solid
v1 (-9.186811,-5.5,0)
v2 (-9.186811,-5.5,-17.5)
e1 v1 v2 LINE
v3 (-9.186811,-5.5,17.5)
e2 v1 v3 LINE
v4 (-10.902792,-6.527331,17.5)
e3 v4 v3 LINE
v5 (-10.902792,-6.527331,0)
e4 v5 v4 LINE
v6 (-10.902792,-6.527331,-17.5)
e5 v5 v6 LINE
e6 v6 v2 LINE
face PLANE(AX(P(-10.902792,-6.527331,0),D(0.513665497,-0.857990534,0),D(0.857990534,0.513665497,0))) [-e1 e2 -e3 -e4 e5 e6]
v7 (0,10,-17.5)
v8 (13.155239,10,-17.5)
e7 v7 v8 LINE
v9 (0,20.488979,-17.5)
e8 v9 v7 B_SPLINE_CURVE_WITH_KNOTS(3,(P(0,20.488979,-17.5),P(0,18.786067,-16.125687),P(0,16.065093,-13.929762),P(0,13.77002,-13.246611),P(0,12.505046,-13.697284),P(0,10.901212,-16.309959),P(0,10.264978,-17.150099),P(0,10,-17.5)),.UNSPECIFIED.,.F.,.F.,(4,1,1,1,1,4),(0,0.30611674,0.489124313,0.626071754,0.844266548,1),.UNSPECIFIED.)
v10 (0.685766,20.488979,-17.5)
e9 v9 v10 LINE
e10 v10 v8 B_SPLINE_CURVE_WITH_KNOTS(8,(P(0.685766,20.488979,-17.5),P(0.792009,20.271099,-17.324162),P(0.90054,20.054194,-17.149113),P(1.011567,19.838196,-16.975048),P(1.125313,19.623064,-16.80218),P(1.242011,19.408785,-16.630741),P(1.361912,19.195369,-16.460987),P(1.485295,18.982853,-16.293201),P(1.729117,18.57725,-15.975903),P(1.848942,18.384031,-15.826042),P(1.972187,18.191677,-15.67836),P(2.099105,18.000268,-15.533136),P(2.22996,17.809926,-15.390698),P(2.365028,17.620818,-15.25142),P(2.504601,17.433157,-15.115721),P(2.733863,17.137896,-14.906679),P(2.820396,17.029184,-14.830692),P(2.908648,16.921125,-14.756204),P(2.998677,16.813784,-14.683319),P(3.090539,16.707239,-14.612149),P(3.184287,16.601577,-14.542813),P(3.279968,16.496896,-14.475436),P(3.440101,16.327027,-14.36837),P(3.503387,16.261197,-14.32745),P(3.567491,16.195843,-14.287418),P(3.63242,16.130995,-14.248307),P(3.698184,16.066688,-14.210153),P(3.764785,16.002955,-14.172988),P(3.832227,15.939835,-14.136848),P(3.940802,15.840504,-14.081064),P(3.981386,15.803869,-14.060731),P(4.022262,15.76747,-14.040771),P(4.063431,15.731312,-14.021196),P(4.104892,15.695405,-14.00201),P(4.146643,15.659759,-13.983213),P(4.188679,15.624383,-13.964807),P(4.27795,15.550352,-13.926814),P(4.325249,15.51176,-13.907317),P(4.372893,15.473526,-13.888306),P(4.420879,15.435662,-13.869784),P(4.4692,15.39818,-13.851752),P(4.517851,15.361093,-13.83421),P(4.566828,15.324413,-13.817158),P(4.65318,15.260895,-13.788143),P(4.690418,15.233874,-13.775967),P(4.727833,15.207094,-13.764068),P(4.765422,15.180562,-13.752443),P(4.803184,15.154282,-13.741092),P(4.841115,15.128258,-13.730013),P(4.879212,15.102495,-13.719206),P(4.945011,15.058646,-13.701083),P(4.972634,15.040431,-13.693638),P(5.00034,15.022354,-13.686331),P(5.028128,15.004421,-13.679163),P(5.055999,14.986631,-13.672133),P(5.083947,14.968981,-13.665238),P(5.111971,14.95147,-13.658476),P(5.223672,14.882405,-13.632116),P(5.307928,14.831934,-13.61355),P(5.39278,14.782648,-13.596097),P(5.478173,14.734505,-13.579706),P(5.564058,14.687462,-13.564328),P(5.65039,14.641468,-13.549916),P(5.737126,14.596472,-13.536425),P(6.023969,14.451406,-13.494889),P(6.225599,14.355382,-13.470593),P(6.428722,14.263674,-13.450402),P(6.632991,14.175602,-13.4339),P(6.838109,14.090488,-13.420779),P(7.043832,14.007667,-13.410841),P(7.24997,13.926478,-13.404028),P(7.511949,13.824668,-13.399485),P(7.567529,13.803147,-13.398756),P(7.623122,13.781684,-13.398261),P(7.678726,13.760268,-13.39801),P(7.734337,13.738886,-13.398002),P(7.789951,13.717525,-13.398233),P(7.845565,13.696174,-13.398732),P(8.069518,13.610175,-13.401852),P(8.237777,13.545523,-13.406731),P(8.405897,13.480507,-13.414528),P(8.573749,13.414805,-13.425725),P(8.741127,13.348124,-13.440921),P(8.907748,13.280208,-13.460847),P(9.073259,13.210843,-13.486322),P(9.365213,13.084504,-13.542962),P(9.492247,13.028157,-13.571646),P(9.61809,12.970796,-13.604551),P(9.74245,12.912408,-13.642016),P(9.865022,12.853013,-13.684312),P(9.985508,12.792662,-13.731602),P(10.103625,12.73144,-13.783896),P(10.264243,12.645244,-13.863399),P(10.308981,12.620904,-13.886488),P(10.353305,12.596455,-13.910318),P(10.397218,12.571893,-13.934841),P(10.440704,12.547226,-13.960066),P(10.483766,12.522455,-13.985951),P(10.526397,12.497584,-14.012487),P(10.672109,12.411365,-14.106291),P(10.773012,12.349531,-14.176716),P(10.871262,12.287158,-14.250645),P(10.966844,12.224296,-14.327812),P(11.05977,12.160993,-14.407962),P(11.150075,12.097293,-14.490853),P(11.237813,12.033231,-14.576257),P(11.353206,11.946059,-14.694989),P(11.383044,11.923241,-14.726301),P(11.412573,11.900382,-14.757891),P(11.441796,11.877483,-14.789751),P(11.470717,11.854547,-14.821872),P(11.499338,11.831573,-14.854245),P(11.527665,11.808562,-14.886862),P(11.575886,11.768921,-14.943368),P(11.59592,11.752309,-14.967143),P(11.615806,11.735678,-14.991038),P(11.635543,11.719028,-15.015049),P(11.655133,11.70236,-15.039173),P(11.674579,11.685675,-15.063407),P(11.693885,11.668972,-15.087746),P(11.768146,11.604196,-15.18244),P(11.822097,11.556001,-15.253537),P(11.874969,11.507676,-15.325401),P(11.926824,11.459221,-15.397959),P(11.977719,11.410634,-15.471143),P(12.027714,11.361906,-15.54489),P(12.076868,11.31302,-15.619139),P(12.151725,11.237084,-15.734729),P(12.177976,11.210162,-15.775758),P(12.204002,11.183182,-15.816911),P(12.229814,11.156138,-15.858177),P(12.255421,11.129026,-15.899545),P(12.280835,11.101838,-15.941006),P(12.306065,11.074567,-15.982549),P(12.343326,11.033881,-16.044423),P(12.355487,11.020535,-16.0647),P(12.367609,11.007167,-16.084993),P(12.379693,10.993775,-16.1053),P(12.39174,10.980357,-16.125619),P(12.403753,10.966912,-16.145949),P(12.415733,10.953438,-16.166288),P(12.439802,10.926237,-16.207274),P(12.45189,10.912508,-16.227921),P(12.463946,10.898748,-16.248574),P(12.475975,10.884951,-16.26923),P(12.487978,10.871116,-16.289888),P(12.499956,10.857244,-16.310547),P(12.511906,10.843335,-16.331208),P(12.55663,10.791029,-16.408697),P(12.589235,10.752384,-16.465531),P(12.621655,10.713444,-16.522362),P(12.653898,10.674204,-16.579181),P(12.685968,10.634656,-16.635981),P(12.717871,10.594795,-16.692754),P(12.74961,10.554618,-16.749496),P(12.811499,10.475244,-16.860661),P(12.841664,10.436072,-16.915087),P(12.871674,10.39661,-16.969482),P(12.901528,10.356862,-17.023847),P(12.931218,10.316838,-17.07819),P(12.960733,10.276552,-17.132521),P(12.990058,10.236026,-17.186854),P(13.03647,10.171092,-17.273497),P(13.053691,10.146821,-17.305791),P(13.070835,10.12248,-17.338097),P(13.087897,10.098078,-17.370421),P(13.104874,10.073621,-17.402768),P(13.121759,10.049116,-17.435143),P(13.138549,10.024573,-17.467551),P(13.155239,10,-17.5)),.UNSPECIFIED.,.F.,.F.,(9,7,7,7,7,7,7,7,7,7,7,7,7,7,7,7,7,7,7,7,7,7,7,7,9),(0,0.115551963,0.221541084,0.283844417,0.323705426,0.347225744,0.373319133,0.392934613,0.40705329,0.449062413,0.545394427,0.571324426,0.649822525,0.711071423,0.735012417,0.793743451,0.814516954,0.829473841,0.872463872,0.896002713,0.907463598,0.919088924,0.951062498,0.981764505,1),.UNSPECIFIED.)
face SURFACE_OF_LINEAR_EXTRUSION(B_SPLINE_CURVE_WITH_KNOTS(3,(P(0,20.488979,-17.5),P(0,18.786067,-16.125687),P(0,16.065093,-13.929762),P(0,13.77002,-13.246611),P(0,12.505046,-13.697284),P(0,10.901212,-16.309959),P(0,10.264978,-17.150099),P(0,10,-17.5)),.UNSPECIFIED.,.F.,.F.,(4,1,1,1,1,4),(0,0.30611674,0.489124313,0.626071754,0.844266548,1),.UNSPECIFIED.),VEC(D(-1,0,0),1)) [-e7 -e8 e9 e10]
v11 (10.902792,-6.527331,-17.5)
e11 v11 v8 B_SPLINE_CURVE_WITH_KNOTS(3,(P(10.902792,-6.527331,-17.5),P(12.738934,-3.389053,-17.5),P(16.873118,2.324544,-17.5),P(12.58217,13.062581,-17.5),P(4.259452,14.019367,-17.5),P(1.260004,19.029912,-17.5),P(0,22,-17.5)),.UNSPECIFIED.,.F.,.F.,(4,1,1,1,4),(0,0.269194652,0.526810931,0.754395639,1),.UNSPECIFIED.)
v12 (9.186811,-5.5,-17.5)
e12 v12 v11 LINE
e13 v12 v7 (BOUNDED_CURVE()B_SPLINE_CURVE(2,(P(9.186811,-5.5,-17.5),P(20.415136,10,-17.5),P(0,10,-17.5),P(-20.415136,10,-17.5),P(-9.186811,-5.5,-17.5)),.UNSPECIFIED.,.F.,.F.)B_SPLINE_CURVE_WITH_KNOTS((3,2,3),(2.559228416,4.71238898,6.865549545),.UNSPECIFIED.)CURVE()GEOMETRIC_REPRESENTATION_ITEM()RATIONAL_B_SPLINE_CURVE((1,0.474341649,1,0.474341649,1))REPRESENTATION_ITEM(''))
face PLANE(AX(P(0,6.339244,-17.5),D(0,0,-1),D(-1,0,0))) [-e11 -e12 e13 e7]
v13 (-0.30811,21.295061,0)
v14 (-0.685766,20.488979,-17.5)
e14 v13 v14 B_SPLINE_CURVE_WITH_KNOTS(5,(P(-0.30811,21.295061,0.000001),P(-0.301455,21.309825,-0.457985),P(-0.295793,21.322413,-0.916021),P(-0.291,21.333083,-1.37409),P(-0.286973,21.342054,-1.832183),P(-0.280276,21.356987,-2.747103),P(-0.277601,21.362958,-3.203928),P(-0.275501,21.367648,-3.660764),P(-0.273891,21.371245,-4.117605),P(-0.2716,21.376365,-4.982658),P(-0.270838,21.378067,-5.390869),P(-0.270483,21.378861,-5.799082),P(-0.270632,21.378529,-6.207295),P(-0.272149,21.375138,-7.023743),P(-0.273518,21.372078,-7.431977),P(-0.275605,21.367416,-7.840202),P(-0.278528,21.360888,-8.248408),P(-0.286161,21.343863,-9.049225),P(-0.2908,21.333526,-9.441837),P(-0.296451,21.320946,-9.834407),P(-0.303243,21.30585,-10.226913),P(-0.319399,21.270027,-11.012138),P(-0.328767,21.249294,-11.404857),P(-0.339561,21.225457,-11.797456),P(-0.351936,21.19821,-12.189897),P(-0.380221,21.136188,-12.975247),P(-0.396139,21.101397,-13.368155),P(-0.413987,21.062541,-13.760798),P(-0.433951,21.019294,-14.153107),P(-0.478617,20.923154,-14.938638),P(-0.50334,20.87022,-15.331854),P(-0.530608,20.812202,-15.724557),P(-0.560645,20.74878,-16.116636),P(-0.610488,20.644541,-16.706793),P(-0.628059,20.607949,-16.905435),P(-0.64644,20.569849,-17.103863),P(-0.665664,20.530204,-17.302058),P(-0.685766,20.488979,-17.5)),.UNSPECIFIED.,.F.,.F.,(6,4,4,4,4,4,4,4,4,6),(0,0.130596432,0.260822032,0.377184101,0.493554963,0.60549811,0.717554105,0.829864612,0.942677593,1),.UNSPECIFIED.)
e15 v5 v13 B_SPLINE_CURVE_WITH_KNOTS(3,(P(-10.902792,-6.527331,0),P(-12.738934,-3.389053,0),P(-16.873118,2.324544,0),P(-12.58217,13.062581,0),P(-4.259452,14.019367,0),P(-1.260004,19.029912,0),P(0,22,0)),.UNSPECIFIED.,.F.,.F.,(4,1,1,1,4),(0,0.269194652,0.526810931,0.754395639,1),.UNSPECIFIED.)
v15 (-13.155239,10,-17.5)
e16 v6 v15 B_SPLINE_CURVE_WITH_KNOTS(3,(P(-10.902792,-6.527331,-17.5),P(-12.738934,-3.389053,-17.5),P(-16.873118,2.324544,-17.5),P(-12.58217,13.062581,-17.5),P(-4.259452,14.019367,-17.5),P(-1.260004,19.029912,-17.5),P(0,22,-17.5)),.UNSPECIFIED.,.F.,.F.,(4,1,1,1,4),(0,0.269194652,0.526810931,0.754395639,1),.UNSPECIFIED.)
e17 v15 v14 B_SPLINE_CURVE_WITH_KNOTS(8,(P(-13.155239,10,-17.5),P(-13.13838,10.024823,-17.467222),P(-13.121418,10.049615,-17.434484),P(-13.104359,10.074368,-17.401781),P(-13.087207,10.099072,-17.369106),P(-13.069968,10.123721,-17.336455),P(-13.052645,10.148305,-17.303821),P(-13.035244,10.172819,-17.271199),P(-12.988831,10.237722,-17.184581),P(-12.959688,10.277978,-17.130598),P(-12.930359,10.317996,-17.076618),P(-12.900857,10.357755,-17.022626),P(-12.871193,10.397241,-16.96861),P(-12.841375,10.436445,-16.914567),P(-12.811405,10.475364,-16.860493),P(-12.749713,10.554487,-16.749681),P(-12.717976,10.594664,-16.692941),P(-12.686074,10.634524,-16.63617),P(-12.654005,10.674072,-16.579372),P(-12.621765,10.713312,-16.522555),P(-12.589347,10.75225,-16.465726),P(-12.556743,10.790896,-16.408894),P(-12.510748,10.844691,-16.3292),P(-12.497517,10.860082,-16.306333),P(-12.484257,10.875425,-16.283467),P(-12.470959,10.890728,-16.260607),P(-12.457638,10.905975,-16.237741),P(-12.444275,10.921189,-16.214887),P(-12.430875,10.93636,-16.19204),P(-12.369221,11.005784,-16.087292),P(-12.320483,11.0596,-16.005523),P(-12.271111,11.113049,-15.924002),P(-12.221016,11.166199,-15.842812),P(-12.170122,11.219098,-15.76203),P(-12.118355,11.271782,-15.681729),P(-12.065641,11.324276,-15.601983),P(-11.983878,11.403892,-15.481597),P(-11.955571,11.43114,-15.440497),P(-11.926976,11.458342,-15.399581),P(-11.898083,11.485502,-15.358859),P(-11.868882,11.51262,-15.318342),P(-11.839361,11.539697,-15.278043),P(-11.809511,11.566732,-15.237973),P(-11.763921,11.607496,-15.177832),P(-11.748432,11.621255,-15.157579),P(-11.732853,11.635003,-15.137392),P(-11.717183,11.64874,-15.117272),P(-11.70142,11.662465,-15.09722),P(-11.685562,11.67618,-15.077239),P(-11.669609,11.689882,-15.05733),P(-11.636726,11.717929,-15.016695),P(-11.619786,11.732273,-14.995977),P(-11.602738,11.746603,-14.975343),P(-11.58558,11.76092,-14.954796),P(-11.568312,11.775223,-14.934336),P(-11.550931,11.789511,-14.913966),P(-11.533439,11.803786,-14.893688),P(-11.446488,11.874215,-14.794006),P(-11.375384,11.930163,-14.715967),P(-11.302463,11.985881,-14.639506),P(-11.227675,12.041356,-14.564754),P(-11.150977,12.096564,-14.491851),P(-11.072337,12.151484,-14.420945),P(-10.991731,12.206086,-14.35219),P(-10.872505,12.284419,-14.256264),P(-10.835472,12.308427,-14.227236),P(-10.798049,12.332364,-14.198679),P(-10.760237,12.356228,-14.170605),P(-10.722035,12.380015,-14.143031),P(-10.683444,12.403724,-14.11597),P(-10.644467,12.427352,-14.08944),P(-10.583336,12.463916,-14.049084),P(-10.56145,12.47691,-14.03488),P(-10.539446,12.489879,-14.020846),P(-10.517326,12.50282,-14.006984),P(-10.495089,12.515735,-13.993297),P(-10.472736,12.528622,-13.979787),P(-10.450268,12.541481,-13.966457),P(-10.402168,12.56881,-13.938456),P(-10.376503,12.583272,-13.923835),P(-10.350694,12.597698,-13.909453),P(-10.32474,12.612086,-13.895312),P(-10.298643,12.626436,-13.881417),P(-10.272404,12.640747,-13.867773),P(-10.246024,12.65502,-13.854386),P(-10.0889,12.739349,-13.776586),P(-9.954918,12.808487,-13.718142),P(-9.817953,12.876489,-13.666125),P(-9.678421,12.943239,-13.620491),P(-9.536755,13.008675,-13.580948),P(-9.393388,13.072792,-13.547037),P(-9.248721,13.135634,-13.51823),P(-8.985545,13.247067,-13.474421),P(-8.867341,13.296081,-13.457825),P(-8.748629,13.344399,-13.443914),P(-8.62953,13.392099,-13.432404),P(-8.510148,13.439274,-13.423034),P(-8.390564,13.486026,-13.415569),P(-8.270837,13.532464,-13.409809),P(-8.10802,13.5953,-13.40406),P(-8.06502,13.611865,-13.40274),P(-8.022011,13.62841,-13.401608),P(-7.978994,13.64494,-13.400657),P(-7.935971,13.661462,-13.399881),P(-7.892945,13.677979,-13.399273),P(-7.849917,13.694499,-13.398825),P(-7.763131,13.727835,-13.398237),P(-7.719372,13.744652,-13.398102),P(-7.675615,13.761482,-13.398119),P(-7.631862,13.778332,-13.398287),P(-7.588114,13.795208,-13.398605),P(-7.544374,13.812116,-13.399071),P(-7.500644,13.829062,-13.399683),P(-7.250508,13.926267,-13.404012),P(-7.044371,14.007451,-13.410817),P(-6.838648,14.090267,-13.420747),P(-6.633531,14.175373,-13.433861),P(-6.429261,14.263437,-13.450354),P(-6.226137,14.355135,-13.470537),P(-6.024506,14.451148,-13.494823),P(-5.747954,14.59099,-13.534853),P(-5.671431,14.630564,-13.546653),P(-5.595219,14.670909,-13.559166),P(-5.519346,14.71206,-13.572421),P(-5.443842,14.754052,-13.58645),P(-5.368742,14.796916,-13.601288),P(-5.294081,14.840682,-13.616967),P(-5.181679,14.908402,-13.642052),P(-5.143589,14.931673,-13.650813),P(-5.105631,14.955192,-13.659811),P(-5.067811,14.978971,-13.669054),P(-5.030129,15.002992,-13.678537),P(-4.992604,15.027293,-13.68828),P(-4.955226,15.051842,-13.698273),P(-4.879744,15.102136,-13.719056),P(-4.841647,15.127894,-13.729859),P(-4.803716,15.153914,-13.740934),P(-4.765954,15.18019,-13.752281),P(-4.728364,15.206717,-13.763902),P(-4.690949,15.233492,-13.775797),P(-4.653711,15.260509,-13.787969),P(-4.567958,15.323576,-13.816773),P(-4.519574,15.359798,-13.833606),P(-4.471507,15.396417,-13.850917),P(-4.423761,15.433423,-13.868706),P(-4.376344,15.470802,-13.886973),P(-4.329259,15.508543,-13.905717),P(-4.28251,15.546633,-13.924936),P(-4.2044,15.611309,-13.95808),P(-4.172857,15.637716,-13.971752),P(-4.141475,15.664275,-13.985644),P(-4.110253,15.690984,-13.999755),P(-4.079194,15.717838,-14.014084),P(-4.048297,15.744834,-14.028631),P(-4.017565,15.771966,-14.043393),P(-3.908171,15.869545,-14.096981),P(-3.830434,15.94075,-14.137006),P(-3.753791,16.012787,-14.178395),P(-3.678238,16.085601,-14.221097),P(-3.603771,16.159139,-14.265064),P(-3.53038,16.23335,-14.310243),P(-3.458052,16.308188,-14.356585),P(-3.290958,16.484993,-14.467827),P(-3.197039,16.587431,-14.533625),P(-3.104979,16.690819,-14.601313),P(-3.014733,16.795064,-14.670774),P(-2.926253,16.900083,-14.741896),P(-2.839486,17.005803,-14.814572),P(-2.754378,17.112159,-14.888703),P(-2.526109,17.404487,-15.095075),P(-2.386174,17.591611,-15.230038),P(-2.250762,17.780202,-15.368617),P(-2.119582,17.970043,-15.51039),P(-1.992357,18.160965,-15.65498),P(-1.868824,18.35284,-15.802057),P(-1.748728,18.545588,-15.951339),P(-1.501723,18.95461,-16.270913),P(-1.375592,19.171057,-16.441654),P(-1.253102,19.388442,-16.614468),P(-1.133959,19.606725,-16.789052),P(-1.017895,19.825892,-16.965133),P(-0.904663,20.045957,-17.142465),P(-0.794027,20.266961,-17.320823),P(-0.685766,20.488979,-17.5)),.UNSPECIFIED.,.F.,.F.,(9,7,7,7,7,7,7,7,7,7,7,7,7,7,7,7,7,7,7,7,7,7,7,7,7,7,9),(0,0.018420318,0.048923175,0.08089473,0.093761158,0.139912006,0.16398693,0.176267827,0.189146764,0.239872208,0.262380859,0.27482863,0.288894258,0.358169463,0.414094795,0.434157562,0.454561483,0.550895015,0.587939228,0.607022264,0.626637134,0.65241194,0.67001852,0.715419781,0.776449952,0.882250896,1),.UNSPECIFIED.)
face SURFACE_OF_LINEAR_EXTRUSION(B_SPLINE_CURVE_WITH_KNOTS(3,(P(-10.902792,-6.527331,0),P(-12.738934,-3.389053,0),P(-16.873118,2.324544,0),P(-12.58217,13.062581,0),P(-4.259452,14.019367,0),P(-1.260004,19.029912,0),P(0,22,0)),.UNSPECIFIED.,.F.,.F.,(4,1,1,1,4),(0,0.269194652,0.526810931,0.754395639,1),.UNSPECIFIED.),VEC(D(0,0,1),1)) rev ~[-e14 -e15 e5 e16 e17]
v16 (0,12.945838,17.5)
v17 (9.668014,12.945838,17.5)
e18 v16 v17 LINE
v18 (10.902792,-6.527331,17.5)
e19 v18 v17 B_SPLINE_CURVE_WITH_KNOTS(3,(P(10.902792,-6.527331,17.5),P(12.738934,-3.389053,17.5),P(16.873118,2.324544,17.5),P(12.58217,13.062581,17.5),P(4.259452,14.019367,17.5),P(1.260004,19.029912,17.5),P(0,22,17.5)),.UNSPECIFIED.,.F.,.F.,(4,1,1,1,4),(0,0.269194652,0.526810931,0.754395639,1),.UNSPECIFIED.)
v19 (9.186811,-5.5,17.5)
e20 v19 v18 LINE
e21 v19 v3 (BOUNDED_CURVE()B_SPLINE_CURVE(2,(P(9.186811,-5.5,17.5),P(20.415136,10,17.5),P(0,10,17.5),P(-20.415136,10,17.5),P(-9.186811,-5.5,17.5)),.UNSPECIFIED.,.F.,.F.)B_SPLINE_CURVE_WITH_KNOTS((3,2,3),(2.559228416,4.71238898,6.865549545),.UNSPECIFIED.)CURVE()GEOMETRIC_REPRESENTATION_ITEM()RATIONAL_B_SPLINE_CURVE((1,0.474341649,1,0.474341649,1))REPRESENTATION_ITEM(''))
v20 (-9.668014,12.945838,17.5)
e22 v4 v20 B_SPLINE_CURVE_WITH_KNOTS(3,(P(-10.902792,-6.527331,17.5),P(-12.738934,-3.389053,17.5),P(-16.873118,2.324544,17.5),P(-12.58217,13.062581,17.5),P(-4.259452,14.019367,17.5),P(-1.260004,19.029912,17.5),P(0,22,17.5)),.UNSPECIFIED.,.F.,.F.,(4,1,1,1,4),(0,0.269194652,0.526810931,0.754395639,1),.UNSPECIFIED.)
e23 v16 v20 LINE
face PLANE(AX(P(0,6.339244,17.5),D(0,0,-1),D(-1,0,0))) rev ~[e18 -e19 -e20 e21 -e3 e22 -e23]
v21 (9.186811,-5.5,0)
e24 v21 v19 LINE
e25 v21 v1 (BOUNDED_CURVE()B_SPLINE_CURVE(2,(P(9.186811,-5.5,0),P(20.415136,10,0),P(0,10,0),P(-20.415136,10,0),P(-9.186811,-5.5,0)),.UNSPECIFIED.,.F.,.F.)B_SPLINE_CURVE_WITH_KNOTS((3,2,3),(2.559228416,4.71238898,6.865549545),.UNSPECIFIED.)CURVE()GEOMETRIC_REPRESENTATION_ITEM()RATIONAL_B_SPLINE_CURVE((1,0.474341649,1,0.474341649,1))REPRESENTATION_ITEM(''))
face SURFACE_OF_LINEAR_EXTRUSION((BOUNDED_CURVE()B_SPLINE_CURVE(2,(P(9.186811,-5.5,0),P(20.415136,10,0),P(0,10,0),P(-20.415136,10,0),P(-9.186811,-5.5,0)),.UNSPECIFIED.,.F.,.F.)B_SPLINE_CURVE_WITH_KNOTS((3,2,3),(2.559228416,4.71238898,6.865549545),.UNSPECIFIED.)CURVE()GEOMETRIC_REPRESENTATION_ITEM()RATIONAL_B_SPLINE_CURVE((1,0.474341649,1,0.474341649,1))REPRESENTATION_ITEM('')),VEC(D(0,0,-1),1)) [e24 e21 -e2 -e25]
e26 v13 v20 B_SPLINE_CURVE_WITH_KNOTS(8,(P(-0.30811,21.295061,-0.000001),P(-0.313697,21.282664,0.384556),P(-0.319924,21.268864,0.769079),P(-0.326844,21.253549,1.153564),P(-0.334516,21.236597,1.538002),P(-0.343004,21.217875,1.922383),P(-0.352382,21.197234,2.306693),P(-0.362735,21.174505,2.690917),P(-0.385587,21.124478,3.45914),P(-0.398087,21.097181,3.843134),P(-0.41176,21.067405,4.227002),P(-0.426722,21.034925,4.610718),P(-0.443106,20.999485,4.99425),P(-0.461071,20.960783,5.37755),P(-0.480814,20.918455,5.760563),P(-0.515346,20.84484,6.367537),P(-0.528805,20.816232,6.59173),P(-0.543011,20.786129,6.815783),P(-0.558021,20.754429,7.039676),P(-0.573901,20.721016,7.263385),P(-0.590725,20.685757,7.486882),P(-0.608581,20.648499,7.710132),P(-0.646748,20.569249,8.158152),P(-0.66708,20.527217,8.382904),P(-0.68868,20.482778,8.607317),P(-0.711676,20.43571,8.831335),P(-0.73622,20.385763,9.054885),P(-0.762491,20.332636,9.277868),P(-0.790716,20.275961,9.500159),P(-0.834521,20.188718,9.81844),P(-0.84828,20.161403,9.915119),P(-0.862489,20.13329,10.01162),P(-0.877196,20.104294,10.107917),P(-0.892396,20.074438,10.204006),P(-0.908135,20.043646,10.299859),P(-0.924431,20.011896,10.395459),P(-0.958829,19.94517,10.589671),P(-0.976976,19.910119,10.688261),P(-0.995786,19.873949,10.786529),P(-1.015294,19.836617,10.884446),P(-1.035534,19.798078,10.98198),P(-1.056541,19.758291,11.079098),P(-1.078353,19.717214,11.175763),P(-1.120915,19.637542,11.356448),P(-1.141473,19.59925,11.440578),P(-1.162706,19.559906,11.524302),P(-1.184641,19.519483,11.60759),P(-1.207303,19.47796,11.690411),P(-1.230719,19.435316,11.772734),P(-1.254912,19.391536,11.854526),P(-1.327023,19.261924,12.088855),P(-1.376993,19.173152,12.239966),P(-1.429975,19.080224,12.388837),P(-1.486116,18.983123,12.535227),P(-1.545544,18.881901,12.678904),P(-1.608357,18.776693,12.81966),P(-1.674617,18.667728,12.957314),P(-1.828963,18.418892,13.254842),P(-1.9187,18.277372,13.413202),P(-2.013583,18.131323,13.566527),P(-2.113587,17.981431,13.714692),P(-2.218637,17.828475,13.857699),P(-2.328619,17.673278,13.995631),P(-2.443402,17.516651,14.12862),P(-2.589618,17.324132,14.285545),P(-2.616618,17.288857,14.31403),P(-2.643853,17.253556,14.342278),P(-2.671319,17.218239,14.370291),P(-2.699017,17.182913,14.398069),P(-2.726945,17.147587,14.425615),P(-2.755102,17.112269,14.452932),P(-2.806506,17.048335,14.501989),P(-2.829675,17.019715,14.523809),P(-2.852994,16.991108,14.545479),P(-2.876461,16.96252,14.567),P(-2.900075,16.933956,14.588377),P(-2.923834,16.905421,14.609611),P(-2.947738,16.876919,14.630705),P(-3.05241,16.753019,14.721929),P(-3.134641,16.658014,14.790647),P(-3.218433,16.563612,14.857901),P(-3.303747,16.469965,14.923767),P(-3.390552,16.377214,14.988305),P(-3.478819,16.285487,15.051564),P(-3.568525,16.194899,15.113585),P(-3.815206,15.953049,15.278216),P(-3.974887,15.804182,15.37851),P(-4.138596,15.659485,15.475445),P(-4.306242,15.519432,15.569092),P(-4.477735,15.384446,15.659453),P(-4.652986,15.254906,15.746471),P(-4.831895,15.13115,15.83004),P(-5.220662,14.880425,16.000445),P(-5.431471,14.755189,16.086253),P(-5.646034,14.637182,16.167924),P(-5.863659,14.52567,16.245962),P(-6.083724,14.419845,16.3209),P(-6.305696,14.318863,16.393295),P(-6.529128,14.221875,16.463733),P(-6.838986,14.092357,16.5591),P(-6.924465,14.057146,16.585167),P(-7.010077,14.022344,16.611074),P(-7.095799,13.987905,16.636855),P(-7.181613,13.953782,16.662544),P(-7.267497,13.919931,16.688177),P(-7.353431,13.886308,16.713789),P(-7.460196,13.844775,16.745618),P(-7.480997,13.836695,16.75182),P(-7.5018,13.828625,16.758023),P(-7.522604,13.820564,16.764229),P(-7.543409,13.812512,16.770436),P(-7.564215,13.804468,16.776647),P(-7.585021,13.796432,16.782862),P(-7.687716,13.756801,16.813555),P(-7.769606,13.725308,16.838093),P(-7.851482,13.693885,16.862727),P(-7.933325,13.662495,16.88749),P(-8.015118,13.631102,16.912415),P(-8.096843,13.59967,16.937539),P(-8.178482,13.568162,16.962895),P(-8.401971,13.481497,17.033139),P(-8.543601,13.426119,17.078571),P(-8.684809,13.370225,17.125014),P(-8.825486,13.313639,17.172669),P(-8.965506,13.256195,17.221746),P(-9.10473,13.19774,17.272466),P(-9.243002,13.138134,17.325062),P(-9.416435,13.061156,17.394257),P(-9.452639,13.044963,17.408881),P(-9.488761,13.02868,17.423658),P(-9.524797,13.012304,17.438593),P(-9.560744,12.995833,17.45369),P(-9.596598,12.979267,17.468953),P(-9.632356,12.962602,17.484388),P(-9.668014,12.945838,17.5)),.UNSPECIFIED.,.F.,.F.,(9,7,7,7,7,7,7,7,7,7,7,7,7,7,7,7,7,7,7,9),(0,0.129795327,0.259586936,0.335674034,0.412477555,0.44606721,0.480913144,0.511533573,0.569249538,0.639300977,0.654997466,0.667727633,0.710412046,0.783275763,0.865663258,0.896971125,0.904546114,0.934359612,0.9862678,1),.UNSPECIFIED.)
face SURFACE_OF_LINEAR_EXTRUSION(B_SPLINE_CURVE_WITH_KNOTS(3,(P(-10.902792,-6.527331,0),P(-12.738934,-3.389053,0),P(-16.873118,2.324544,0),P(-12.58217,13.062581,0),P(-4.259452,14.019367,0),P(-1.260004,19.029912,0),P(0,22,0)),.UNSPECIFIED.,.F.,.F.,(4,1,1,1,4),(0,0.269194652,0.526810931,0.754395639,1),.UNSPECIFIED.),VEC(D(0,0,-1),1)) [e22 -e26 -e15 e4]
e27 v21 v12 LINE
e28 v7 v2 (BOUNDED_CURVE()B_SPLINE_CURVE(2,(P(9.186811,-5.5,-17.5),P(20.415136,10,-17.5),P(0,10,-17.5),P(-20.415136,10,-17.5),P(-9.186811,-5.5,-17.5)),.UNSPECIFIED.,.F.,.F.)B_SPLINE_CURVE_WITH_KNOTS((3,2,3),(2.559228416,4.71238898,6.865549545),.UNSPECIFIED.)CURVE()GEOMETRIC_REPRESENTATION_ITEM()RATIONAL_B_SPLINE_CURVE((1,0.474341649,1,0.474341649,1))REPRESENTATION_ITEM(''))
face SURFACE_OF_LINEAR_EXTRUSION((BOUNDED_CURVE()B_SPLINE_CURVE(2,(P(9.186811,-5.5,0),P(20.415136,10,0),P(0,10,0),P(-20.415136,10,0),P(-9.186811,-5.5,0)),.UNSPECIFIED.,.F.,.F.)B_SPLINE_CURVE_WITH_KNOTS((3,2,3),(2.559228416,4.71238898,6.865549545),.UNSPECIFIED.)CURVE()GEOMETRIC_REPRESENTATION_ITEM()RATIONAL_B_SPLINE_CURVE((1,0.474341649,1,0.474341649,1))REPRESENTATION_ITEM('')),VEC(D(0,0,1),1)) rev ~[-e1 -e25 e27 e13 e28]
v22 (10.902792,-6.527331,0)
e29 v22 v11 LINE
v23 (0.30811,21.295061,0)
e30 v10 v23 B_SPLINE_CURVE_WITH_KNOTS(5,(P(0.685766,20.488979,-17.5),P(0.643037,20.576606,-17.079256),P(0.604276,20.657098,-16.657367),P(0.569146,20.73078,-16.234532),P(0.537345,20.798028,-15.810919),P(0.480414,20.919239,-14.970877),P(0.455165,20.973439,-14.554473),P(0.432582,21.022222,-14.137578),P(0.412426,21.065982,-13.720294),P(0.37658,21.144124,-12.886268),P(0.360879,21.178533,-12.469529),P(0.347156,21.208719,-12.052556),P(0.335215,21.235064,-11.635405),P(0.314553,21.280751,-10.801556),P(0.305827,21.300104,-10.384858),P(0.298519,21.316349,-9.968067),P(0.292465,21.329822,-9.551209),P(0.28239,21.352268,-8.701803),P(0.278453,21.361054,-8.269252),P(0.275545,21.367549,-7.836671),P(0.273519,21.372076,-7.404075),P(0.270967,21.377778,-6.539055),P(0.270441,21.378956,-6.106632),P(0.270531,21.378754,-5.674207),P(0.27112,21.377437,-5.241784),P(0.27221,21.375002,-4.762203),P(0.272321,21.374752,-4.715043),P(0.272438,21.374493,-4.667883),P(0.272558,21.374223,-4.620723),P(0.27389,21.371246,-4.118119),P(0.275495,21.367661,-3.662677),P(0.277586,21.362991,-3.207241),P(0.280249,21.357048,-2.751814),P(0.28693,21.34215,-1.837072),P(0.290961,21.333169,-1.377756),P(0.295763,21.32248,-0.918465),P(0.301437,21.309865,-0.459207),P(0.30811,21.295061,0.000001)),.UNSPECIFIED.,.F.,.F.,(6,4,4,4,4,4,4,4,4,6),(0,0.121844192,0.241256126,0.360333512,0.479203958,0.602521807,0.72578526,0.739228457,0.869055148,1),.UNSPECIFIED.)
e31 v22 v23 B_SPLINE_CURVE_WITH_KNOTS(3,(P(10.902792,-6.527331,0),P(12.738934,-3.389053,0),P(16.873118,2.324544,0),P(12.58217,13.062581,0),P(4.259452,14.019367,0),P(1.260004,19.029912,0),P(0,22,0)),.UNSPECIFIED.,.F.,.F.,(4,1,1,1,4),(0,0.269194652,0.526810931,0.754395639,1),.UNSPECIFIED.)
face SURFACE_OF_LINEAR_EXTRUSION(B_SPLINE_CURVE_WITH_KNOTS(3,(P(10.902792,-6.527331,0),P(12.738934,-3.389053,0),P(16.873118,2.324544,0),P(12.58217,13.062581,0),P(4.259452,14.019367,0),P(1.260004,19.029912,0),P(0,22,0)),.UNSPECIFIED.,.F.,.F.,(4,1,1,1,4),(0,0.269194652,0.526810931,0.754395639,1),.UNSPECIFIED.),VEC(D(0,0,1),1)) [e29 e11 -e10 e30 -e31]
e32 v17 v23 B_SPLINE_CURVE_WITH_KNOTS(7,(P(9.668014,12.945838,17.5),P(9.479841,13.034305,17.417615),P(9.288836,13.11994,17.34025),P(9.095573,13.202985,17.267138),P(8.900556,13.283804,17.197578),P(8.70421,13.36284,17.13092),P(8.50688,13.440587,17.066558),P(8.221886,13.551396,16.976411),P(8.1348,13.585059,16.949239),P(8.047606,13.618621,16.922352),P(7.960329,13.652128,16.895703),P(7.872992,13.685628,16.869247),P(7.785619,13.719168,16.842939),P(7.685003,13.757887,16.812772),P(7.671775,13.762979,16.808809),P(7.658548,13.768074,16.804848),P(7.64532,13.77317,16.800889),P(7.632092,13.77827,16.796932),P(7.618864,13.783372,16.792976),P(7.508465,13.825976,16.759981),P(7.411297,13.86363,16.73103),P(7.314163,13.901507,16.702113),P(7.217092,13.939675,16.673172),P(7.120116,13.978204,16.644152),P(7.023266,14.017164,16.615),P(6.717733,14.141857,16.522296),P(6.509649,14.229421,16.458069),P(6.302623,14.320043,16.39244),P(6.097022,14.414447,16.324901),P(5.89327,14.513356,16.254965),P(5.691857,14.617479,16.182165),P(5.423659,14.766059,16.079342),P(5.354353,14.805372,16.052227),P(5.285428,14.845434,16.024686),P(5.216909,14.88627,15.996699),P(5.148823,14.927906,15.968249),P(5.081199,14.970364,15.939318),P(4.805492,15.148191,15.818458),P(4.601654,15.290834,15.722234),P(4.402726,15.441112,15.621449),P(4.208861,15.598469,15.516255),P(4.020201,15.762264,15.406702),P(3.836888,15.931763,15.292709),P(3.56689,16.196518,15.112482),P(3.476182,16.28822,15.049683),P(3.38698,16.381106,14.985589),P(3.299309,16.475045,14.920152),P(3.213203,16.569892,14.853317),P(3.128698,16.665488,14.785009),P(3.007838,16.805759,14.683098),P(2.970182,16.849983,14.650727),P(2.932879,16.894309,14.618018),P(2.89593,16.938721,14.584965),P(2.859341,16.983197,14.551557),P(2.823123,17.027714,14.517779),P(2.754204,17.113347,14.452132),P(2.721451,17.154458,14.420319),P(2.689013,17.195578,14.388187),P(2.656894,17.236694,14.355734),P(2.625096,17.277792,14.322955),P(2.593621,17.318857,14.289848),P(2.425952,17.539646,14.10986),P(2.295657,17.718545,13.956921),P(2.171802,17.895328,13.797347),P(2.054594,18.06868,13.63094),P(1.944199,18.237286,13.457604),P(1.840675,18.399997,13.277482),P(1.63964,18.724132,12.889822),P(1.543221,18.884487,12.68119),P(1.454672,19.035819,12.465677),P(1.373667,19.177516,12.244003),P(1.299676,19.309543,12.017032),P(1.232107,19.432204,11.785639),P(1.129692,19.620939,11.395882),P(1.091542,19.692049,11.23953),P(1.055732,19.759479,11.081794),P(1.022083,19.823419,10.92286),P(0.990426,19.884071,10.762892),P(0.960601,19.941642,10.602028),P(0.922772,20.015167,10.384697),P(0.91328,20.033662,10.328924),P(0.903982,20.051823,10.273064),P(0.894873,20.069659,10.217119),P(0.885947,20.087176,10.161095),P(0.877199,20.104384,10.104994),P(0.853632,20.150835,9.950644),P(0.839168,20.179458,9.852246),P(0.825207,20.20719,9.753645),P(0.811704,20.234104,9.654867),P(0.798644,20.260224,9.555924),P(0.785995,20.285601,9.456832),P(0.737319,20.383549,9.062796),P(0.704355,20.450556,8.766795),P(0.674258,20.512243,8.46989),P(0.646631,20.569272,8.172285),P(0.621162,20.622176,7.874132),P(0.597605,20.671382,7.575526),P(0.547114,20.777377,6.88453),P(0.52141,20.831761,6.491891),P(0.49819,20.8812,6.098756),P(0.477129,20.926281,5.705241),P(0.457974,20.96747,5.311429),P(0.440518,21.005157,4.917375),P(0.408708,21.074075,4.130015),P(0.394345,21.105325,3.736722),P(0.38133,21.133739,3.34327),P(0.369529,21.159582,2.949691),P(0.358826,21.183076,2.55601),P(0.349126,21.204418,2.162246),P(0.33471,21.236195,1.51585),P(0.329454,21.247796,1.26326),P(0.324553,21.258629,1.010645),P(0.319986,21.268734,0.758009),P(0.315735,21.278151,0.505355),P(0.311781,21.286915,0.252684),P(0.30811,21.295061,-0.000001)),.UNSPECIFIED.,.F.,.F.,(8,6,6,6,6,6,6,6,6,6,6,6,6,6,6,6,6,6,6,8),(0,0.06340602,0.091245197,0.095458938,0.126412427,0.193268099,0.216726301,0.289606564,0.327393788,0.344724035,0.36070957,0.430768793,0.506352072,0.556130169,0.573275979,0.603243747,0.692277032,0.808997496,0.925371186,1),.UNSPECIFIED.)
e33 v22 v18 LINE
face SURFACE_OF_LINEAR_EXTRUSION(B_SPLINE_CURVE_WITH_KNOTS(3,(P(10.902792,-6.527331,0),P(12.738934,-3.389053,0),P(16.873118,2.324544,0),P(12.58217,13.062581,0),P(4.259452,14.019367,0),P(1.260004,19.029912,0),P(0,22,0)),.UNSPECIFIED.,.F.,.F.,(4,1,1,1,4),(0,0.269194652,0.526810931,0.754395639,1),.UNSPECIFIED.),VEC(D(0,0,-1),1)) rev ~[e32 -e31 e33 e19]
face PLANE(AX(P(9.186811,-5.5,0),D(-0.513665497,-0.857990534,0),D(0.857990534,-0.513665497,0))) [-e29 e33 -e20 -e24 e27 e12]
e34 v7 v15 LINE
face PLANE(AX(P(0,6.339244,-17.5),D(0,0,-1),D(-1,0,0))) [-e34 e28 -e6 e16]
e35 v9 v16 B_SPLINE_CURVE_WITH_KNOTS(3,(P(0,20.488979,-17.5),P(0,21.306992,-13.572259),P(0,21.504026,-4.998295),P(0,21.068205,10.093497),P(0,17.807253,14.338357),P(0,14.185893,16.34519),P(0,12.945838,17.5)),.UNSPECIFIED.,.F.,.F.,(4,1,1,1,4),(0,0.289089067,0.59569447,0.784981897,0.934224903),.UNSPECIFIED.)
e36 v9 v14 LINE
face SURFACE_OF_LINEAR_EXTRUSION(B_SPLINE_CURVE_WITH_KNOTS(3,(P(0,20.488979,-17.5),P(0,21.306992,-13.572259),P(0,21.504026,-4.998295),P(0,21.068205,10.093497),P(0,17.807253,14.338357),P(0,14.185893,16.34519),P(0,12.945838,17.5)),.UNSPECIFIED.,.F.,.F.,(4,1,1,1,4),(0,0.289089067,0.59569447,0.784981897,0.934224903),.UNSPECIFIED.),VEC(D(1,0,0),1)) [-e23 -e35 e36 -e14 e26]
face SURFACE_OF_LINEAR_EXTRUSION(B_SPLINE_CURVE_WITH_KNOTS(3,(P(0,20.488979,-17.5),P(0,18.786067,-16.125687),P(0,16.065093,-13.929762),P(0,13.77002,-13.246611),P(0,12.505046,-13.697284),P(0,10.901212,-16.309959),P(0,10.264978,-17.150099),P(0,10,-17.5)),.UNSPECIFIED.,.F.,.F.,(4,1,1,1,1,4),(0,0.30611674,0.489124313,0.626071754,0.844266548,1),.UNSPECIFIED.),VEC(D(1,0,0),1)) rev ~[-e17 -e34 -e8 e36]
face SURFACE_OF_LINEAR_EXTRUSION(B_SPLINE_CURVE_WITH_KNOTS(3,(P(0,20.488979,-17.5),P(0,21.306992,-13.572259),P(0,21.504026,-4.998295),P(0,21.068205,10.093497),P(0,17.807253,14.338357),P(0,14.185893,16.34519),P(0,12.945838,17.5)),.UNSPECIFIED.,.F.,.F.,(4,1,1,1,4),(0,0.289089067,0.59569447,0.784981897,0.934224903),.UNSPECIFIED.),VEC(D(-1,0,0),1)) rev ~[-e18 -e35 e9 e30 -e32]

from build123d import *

# Parameters (mm, degrees)
F1_DEPTH      = 17.5
F3_DEPTH      = 15.1287347934
F3_DEPTH_BACK = 15.1287347934
F5_DEPTH      = 15.1287347934
F5_DEPTH_BACK = 15.1287347934


with BuildPart() as f1:
    # F0 (on Top) → F1 (new body, symmetric)
    with BuildSketch(Plane.XY):
        with BuildLine():
            add(Edge.make_bspline(
                [(9.1868111987, -5.5), (20.415135997, 10), (0, 10), (-20.415135997, 10), (-9.1868111987, -5.5)],
                knots=[2.5592284157, 2.5592284157, 2.5592284157, 4.7123889804, 4.7123889804, 6.865549545, 6.865549545, 6.865549545], degree=2, weights=[1, 0.474341649, 1, 0.474341649, 1]))
            Line((9.1868111987, -5.5), (10.9027922676, -6.5273309939))
            add(Edge.make_bspline(
                [(10.9027922676, -6.5273309939), (12.7389340253, -3.3890525439), (16.8731179435, 2.3245435176), (12.5821699396, 13.0625810745), (4.2594516513, 14.0193672421), (1.2600043773, 19.0299124435), (0, 22)],
                knots=[0, 0, 0, 0, 0.2691946522, 0.5268109314, 0.7543956387, 1, 1, 1, 1], degree=3))
            add(Edge.make_bspline(
                [(-10.9027922676, -6.5273309939), (-12.7389340253, -3.3890525439), (-16.8731179435, 2.3245435176), (-12.5821699396, 13.0625810745), (-4.2594516513, 14.0193672421), (-1.2600043773, 19.0299124435), (0, 22)],
                knots=[0, 0, 0, 0, 0.2691946522, 0.5268109314, 0.7543956387, 1, 1, 1, 1], degree=3))
            Line((-10.9027922676, -6.5273309939), (-9.1868111987, -5.5))
        make_face()
    extrude(amount=F1_DEPTH, both=True)

    # F2 (on Right) → F3 (cut, two sides)
    with BuildSketch(Plane.YZ) as f3_sk:
        with BuildLine():
            Line((22, -17.5), (22, 17.5))
            add(Edge.make_bspline(
                [(12.9458382726, 17.5), (12.9847525399, 17.5), (13.3425955297, 17.5), (15.3706202534, 17.5), (18.3497598952, 17.5), (21.0099708145, 17.5), (22, 17.5)],
                knots=[19.4731692664, 19.4731692664, 19.4731692664, 19.4731692664, 19.5899120684, 20.546698236, 25.5572434374, 28.5273309939, 28.5273309939, 28.5273309939, 28.5273309939], degree=3))
            add(Edge.make_bspline(
                [(20.4889792066, -17.5), (21.3069921459, -13.572259105), (21.5040260738, -4.998294653), (21.0682047604, 10.0934973141), (17.8072525963, 14.338356594), (14.1858932816, 16.3451904901), (12.9458382726, 17.5)],
                knots=[0, 0, 0, 0, 0.2890890669, 0.5956944703, 0.784981897, 0.9342249031, 0.9342249031, 0.9342249031, 0.9342249031], degree=3))
            add(Edge.make_bspline(
                [(20.4889792066, -17.5), (20.9926528044, -17.5), (21.4963264022, -17.5), (22, -17.5)],
                knots=[27.0163102004, 27.0163102004, 27.0163102004, 27.0163102004, 28.5273309939, 28.5273309939, 28.5273309939, 28.5273309939], degree=3))
        make_face()
    extrude(amount=F3_DEPTH, mode=Mode.SUBTRACT)
    extrude(f3_sk.sketch, amount=-F3_DEPTH_BACK, mode=Mode.SUBTRACT)

    # F4 (on Right) → F5 (cut, two sides)
    with BuildSketch(Plane.YZ) as f5_sk:
        with BuildLine():
            add(Edge.make_bspline(
                [(20.4889792065, -17.5), (20.0026236189, -17.5), (17.8460862974, -17.5), (15.3706202534, -17.5), (12.3606494389, -17.5), (11.0208603582, -17.5), (10, -17.5)],
                knots=[1.5110207935, 1.5110207935, 1.5110207935, 1.5110207935, 2.9700875565, 7.9806327579, 8.9374189255, 12, 12, 12, 12], degree=3))
            add(Edge.make_bspline(
                [(20.4889792065, -17.5), (18.7860671315, -16.1256874953), (16.0650931023, -13.9297616527), (13.7700201304, -13.2466113293), (12.5050464748, -13.6972839369), (10.901211893, -16.3099588504), (10.2649782675, -17.1500988896), (10, -17.5)],
                knots=[0, 0, 0, 0, 0.3061167398, 0.4891243131, 0.6260717542, 0.844266548, 1, 1, 1, 1], degree=3))
        make_face()
    extrude(amount=-F5_DEPTH, mode=Mode.SUBTRACT)
    extrude(f5_sk.sketch, amount=F5_DEPTH_BACK, mode=Mode.SUBTRACT)


solid = f1.part
